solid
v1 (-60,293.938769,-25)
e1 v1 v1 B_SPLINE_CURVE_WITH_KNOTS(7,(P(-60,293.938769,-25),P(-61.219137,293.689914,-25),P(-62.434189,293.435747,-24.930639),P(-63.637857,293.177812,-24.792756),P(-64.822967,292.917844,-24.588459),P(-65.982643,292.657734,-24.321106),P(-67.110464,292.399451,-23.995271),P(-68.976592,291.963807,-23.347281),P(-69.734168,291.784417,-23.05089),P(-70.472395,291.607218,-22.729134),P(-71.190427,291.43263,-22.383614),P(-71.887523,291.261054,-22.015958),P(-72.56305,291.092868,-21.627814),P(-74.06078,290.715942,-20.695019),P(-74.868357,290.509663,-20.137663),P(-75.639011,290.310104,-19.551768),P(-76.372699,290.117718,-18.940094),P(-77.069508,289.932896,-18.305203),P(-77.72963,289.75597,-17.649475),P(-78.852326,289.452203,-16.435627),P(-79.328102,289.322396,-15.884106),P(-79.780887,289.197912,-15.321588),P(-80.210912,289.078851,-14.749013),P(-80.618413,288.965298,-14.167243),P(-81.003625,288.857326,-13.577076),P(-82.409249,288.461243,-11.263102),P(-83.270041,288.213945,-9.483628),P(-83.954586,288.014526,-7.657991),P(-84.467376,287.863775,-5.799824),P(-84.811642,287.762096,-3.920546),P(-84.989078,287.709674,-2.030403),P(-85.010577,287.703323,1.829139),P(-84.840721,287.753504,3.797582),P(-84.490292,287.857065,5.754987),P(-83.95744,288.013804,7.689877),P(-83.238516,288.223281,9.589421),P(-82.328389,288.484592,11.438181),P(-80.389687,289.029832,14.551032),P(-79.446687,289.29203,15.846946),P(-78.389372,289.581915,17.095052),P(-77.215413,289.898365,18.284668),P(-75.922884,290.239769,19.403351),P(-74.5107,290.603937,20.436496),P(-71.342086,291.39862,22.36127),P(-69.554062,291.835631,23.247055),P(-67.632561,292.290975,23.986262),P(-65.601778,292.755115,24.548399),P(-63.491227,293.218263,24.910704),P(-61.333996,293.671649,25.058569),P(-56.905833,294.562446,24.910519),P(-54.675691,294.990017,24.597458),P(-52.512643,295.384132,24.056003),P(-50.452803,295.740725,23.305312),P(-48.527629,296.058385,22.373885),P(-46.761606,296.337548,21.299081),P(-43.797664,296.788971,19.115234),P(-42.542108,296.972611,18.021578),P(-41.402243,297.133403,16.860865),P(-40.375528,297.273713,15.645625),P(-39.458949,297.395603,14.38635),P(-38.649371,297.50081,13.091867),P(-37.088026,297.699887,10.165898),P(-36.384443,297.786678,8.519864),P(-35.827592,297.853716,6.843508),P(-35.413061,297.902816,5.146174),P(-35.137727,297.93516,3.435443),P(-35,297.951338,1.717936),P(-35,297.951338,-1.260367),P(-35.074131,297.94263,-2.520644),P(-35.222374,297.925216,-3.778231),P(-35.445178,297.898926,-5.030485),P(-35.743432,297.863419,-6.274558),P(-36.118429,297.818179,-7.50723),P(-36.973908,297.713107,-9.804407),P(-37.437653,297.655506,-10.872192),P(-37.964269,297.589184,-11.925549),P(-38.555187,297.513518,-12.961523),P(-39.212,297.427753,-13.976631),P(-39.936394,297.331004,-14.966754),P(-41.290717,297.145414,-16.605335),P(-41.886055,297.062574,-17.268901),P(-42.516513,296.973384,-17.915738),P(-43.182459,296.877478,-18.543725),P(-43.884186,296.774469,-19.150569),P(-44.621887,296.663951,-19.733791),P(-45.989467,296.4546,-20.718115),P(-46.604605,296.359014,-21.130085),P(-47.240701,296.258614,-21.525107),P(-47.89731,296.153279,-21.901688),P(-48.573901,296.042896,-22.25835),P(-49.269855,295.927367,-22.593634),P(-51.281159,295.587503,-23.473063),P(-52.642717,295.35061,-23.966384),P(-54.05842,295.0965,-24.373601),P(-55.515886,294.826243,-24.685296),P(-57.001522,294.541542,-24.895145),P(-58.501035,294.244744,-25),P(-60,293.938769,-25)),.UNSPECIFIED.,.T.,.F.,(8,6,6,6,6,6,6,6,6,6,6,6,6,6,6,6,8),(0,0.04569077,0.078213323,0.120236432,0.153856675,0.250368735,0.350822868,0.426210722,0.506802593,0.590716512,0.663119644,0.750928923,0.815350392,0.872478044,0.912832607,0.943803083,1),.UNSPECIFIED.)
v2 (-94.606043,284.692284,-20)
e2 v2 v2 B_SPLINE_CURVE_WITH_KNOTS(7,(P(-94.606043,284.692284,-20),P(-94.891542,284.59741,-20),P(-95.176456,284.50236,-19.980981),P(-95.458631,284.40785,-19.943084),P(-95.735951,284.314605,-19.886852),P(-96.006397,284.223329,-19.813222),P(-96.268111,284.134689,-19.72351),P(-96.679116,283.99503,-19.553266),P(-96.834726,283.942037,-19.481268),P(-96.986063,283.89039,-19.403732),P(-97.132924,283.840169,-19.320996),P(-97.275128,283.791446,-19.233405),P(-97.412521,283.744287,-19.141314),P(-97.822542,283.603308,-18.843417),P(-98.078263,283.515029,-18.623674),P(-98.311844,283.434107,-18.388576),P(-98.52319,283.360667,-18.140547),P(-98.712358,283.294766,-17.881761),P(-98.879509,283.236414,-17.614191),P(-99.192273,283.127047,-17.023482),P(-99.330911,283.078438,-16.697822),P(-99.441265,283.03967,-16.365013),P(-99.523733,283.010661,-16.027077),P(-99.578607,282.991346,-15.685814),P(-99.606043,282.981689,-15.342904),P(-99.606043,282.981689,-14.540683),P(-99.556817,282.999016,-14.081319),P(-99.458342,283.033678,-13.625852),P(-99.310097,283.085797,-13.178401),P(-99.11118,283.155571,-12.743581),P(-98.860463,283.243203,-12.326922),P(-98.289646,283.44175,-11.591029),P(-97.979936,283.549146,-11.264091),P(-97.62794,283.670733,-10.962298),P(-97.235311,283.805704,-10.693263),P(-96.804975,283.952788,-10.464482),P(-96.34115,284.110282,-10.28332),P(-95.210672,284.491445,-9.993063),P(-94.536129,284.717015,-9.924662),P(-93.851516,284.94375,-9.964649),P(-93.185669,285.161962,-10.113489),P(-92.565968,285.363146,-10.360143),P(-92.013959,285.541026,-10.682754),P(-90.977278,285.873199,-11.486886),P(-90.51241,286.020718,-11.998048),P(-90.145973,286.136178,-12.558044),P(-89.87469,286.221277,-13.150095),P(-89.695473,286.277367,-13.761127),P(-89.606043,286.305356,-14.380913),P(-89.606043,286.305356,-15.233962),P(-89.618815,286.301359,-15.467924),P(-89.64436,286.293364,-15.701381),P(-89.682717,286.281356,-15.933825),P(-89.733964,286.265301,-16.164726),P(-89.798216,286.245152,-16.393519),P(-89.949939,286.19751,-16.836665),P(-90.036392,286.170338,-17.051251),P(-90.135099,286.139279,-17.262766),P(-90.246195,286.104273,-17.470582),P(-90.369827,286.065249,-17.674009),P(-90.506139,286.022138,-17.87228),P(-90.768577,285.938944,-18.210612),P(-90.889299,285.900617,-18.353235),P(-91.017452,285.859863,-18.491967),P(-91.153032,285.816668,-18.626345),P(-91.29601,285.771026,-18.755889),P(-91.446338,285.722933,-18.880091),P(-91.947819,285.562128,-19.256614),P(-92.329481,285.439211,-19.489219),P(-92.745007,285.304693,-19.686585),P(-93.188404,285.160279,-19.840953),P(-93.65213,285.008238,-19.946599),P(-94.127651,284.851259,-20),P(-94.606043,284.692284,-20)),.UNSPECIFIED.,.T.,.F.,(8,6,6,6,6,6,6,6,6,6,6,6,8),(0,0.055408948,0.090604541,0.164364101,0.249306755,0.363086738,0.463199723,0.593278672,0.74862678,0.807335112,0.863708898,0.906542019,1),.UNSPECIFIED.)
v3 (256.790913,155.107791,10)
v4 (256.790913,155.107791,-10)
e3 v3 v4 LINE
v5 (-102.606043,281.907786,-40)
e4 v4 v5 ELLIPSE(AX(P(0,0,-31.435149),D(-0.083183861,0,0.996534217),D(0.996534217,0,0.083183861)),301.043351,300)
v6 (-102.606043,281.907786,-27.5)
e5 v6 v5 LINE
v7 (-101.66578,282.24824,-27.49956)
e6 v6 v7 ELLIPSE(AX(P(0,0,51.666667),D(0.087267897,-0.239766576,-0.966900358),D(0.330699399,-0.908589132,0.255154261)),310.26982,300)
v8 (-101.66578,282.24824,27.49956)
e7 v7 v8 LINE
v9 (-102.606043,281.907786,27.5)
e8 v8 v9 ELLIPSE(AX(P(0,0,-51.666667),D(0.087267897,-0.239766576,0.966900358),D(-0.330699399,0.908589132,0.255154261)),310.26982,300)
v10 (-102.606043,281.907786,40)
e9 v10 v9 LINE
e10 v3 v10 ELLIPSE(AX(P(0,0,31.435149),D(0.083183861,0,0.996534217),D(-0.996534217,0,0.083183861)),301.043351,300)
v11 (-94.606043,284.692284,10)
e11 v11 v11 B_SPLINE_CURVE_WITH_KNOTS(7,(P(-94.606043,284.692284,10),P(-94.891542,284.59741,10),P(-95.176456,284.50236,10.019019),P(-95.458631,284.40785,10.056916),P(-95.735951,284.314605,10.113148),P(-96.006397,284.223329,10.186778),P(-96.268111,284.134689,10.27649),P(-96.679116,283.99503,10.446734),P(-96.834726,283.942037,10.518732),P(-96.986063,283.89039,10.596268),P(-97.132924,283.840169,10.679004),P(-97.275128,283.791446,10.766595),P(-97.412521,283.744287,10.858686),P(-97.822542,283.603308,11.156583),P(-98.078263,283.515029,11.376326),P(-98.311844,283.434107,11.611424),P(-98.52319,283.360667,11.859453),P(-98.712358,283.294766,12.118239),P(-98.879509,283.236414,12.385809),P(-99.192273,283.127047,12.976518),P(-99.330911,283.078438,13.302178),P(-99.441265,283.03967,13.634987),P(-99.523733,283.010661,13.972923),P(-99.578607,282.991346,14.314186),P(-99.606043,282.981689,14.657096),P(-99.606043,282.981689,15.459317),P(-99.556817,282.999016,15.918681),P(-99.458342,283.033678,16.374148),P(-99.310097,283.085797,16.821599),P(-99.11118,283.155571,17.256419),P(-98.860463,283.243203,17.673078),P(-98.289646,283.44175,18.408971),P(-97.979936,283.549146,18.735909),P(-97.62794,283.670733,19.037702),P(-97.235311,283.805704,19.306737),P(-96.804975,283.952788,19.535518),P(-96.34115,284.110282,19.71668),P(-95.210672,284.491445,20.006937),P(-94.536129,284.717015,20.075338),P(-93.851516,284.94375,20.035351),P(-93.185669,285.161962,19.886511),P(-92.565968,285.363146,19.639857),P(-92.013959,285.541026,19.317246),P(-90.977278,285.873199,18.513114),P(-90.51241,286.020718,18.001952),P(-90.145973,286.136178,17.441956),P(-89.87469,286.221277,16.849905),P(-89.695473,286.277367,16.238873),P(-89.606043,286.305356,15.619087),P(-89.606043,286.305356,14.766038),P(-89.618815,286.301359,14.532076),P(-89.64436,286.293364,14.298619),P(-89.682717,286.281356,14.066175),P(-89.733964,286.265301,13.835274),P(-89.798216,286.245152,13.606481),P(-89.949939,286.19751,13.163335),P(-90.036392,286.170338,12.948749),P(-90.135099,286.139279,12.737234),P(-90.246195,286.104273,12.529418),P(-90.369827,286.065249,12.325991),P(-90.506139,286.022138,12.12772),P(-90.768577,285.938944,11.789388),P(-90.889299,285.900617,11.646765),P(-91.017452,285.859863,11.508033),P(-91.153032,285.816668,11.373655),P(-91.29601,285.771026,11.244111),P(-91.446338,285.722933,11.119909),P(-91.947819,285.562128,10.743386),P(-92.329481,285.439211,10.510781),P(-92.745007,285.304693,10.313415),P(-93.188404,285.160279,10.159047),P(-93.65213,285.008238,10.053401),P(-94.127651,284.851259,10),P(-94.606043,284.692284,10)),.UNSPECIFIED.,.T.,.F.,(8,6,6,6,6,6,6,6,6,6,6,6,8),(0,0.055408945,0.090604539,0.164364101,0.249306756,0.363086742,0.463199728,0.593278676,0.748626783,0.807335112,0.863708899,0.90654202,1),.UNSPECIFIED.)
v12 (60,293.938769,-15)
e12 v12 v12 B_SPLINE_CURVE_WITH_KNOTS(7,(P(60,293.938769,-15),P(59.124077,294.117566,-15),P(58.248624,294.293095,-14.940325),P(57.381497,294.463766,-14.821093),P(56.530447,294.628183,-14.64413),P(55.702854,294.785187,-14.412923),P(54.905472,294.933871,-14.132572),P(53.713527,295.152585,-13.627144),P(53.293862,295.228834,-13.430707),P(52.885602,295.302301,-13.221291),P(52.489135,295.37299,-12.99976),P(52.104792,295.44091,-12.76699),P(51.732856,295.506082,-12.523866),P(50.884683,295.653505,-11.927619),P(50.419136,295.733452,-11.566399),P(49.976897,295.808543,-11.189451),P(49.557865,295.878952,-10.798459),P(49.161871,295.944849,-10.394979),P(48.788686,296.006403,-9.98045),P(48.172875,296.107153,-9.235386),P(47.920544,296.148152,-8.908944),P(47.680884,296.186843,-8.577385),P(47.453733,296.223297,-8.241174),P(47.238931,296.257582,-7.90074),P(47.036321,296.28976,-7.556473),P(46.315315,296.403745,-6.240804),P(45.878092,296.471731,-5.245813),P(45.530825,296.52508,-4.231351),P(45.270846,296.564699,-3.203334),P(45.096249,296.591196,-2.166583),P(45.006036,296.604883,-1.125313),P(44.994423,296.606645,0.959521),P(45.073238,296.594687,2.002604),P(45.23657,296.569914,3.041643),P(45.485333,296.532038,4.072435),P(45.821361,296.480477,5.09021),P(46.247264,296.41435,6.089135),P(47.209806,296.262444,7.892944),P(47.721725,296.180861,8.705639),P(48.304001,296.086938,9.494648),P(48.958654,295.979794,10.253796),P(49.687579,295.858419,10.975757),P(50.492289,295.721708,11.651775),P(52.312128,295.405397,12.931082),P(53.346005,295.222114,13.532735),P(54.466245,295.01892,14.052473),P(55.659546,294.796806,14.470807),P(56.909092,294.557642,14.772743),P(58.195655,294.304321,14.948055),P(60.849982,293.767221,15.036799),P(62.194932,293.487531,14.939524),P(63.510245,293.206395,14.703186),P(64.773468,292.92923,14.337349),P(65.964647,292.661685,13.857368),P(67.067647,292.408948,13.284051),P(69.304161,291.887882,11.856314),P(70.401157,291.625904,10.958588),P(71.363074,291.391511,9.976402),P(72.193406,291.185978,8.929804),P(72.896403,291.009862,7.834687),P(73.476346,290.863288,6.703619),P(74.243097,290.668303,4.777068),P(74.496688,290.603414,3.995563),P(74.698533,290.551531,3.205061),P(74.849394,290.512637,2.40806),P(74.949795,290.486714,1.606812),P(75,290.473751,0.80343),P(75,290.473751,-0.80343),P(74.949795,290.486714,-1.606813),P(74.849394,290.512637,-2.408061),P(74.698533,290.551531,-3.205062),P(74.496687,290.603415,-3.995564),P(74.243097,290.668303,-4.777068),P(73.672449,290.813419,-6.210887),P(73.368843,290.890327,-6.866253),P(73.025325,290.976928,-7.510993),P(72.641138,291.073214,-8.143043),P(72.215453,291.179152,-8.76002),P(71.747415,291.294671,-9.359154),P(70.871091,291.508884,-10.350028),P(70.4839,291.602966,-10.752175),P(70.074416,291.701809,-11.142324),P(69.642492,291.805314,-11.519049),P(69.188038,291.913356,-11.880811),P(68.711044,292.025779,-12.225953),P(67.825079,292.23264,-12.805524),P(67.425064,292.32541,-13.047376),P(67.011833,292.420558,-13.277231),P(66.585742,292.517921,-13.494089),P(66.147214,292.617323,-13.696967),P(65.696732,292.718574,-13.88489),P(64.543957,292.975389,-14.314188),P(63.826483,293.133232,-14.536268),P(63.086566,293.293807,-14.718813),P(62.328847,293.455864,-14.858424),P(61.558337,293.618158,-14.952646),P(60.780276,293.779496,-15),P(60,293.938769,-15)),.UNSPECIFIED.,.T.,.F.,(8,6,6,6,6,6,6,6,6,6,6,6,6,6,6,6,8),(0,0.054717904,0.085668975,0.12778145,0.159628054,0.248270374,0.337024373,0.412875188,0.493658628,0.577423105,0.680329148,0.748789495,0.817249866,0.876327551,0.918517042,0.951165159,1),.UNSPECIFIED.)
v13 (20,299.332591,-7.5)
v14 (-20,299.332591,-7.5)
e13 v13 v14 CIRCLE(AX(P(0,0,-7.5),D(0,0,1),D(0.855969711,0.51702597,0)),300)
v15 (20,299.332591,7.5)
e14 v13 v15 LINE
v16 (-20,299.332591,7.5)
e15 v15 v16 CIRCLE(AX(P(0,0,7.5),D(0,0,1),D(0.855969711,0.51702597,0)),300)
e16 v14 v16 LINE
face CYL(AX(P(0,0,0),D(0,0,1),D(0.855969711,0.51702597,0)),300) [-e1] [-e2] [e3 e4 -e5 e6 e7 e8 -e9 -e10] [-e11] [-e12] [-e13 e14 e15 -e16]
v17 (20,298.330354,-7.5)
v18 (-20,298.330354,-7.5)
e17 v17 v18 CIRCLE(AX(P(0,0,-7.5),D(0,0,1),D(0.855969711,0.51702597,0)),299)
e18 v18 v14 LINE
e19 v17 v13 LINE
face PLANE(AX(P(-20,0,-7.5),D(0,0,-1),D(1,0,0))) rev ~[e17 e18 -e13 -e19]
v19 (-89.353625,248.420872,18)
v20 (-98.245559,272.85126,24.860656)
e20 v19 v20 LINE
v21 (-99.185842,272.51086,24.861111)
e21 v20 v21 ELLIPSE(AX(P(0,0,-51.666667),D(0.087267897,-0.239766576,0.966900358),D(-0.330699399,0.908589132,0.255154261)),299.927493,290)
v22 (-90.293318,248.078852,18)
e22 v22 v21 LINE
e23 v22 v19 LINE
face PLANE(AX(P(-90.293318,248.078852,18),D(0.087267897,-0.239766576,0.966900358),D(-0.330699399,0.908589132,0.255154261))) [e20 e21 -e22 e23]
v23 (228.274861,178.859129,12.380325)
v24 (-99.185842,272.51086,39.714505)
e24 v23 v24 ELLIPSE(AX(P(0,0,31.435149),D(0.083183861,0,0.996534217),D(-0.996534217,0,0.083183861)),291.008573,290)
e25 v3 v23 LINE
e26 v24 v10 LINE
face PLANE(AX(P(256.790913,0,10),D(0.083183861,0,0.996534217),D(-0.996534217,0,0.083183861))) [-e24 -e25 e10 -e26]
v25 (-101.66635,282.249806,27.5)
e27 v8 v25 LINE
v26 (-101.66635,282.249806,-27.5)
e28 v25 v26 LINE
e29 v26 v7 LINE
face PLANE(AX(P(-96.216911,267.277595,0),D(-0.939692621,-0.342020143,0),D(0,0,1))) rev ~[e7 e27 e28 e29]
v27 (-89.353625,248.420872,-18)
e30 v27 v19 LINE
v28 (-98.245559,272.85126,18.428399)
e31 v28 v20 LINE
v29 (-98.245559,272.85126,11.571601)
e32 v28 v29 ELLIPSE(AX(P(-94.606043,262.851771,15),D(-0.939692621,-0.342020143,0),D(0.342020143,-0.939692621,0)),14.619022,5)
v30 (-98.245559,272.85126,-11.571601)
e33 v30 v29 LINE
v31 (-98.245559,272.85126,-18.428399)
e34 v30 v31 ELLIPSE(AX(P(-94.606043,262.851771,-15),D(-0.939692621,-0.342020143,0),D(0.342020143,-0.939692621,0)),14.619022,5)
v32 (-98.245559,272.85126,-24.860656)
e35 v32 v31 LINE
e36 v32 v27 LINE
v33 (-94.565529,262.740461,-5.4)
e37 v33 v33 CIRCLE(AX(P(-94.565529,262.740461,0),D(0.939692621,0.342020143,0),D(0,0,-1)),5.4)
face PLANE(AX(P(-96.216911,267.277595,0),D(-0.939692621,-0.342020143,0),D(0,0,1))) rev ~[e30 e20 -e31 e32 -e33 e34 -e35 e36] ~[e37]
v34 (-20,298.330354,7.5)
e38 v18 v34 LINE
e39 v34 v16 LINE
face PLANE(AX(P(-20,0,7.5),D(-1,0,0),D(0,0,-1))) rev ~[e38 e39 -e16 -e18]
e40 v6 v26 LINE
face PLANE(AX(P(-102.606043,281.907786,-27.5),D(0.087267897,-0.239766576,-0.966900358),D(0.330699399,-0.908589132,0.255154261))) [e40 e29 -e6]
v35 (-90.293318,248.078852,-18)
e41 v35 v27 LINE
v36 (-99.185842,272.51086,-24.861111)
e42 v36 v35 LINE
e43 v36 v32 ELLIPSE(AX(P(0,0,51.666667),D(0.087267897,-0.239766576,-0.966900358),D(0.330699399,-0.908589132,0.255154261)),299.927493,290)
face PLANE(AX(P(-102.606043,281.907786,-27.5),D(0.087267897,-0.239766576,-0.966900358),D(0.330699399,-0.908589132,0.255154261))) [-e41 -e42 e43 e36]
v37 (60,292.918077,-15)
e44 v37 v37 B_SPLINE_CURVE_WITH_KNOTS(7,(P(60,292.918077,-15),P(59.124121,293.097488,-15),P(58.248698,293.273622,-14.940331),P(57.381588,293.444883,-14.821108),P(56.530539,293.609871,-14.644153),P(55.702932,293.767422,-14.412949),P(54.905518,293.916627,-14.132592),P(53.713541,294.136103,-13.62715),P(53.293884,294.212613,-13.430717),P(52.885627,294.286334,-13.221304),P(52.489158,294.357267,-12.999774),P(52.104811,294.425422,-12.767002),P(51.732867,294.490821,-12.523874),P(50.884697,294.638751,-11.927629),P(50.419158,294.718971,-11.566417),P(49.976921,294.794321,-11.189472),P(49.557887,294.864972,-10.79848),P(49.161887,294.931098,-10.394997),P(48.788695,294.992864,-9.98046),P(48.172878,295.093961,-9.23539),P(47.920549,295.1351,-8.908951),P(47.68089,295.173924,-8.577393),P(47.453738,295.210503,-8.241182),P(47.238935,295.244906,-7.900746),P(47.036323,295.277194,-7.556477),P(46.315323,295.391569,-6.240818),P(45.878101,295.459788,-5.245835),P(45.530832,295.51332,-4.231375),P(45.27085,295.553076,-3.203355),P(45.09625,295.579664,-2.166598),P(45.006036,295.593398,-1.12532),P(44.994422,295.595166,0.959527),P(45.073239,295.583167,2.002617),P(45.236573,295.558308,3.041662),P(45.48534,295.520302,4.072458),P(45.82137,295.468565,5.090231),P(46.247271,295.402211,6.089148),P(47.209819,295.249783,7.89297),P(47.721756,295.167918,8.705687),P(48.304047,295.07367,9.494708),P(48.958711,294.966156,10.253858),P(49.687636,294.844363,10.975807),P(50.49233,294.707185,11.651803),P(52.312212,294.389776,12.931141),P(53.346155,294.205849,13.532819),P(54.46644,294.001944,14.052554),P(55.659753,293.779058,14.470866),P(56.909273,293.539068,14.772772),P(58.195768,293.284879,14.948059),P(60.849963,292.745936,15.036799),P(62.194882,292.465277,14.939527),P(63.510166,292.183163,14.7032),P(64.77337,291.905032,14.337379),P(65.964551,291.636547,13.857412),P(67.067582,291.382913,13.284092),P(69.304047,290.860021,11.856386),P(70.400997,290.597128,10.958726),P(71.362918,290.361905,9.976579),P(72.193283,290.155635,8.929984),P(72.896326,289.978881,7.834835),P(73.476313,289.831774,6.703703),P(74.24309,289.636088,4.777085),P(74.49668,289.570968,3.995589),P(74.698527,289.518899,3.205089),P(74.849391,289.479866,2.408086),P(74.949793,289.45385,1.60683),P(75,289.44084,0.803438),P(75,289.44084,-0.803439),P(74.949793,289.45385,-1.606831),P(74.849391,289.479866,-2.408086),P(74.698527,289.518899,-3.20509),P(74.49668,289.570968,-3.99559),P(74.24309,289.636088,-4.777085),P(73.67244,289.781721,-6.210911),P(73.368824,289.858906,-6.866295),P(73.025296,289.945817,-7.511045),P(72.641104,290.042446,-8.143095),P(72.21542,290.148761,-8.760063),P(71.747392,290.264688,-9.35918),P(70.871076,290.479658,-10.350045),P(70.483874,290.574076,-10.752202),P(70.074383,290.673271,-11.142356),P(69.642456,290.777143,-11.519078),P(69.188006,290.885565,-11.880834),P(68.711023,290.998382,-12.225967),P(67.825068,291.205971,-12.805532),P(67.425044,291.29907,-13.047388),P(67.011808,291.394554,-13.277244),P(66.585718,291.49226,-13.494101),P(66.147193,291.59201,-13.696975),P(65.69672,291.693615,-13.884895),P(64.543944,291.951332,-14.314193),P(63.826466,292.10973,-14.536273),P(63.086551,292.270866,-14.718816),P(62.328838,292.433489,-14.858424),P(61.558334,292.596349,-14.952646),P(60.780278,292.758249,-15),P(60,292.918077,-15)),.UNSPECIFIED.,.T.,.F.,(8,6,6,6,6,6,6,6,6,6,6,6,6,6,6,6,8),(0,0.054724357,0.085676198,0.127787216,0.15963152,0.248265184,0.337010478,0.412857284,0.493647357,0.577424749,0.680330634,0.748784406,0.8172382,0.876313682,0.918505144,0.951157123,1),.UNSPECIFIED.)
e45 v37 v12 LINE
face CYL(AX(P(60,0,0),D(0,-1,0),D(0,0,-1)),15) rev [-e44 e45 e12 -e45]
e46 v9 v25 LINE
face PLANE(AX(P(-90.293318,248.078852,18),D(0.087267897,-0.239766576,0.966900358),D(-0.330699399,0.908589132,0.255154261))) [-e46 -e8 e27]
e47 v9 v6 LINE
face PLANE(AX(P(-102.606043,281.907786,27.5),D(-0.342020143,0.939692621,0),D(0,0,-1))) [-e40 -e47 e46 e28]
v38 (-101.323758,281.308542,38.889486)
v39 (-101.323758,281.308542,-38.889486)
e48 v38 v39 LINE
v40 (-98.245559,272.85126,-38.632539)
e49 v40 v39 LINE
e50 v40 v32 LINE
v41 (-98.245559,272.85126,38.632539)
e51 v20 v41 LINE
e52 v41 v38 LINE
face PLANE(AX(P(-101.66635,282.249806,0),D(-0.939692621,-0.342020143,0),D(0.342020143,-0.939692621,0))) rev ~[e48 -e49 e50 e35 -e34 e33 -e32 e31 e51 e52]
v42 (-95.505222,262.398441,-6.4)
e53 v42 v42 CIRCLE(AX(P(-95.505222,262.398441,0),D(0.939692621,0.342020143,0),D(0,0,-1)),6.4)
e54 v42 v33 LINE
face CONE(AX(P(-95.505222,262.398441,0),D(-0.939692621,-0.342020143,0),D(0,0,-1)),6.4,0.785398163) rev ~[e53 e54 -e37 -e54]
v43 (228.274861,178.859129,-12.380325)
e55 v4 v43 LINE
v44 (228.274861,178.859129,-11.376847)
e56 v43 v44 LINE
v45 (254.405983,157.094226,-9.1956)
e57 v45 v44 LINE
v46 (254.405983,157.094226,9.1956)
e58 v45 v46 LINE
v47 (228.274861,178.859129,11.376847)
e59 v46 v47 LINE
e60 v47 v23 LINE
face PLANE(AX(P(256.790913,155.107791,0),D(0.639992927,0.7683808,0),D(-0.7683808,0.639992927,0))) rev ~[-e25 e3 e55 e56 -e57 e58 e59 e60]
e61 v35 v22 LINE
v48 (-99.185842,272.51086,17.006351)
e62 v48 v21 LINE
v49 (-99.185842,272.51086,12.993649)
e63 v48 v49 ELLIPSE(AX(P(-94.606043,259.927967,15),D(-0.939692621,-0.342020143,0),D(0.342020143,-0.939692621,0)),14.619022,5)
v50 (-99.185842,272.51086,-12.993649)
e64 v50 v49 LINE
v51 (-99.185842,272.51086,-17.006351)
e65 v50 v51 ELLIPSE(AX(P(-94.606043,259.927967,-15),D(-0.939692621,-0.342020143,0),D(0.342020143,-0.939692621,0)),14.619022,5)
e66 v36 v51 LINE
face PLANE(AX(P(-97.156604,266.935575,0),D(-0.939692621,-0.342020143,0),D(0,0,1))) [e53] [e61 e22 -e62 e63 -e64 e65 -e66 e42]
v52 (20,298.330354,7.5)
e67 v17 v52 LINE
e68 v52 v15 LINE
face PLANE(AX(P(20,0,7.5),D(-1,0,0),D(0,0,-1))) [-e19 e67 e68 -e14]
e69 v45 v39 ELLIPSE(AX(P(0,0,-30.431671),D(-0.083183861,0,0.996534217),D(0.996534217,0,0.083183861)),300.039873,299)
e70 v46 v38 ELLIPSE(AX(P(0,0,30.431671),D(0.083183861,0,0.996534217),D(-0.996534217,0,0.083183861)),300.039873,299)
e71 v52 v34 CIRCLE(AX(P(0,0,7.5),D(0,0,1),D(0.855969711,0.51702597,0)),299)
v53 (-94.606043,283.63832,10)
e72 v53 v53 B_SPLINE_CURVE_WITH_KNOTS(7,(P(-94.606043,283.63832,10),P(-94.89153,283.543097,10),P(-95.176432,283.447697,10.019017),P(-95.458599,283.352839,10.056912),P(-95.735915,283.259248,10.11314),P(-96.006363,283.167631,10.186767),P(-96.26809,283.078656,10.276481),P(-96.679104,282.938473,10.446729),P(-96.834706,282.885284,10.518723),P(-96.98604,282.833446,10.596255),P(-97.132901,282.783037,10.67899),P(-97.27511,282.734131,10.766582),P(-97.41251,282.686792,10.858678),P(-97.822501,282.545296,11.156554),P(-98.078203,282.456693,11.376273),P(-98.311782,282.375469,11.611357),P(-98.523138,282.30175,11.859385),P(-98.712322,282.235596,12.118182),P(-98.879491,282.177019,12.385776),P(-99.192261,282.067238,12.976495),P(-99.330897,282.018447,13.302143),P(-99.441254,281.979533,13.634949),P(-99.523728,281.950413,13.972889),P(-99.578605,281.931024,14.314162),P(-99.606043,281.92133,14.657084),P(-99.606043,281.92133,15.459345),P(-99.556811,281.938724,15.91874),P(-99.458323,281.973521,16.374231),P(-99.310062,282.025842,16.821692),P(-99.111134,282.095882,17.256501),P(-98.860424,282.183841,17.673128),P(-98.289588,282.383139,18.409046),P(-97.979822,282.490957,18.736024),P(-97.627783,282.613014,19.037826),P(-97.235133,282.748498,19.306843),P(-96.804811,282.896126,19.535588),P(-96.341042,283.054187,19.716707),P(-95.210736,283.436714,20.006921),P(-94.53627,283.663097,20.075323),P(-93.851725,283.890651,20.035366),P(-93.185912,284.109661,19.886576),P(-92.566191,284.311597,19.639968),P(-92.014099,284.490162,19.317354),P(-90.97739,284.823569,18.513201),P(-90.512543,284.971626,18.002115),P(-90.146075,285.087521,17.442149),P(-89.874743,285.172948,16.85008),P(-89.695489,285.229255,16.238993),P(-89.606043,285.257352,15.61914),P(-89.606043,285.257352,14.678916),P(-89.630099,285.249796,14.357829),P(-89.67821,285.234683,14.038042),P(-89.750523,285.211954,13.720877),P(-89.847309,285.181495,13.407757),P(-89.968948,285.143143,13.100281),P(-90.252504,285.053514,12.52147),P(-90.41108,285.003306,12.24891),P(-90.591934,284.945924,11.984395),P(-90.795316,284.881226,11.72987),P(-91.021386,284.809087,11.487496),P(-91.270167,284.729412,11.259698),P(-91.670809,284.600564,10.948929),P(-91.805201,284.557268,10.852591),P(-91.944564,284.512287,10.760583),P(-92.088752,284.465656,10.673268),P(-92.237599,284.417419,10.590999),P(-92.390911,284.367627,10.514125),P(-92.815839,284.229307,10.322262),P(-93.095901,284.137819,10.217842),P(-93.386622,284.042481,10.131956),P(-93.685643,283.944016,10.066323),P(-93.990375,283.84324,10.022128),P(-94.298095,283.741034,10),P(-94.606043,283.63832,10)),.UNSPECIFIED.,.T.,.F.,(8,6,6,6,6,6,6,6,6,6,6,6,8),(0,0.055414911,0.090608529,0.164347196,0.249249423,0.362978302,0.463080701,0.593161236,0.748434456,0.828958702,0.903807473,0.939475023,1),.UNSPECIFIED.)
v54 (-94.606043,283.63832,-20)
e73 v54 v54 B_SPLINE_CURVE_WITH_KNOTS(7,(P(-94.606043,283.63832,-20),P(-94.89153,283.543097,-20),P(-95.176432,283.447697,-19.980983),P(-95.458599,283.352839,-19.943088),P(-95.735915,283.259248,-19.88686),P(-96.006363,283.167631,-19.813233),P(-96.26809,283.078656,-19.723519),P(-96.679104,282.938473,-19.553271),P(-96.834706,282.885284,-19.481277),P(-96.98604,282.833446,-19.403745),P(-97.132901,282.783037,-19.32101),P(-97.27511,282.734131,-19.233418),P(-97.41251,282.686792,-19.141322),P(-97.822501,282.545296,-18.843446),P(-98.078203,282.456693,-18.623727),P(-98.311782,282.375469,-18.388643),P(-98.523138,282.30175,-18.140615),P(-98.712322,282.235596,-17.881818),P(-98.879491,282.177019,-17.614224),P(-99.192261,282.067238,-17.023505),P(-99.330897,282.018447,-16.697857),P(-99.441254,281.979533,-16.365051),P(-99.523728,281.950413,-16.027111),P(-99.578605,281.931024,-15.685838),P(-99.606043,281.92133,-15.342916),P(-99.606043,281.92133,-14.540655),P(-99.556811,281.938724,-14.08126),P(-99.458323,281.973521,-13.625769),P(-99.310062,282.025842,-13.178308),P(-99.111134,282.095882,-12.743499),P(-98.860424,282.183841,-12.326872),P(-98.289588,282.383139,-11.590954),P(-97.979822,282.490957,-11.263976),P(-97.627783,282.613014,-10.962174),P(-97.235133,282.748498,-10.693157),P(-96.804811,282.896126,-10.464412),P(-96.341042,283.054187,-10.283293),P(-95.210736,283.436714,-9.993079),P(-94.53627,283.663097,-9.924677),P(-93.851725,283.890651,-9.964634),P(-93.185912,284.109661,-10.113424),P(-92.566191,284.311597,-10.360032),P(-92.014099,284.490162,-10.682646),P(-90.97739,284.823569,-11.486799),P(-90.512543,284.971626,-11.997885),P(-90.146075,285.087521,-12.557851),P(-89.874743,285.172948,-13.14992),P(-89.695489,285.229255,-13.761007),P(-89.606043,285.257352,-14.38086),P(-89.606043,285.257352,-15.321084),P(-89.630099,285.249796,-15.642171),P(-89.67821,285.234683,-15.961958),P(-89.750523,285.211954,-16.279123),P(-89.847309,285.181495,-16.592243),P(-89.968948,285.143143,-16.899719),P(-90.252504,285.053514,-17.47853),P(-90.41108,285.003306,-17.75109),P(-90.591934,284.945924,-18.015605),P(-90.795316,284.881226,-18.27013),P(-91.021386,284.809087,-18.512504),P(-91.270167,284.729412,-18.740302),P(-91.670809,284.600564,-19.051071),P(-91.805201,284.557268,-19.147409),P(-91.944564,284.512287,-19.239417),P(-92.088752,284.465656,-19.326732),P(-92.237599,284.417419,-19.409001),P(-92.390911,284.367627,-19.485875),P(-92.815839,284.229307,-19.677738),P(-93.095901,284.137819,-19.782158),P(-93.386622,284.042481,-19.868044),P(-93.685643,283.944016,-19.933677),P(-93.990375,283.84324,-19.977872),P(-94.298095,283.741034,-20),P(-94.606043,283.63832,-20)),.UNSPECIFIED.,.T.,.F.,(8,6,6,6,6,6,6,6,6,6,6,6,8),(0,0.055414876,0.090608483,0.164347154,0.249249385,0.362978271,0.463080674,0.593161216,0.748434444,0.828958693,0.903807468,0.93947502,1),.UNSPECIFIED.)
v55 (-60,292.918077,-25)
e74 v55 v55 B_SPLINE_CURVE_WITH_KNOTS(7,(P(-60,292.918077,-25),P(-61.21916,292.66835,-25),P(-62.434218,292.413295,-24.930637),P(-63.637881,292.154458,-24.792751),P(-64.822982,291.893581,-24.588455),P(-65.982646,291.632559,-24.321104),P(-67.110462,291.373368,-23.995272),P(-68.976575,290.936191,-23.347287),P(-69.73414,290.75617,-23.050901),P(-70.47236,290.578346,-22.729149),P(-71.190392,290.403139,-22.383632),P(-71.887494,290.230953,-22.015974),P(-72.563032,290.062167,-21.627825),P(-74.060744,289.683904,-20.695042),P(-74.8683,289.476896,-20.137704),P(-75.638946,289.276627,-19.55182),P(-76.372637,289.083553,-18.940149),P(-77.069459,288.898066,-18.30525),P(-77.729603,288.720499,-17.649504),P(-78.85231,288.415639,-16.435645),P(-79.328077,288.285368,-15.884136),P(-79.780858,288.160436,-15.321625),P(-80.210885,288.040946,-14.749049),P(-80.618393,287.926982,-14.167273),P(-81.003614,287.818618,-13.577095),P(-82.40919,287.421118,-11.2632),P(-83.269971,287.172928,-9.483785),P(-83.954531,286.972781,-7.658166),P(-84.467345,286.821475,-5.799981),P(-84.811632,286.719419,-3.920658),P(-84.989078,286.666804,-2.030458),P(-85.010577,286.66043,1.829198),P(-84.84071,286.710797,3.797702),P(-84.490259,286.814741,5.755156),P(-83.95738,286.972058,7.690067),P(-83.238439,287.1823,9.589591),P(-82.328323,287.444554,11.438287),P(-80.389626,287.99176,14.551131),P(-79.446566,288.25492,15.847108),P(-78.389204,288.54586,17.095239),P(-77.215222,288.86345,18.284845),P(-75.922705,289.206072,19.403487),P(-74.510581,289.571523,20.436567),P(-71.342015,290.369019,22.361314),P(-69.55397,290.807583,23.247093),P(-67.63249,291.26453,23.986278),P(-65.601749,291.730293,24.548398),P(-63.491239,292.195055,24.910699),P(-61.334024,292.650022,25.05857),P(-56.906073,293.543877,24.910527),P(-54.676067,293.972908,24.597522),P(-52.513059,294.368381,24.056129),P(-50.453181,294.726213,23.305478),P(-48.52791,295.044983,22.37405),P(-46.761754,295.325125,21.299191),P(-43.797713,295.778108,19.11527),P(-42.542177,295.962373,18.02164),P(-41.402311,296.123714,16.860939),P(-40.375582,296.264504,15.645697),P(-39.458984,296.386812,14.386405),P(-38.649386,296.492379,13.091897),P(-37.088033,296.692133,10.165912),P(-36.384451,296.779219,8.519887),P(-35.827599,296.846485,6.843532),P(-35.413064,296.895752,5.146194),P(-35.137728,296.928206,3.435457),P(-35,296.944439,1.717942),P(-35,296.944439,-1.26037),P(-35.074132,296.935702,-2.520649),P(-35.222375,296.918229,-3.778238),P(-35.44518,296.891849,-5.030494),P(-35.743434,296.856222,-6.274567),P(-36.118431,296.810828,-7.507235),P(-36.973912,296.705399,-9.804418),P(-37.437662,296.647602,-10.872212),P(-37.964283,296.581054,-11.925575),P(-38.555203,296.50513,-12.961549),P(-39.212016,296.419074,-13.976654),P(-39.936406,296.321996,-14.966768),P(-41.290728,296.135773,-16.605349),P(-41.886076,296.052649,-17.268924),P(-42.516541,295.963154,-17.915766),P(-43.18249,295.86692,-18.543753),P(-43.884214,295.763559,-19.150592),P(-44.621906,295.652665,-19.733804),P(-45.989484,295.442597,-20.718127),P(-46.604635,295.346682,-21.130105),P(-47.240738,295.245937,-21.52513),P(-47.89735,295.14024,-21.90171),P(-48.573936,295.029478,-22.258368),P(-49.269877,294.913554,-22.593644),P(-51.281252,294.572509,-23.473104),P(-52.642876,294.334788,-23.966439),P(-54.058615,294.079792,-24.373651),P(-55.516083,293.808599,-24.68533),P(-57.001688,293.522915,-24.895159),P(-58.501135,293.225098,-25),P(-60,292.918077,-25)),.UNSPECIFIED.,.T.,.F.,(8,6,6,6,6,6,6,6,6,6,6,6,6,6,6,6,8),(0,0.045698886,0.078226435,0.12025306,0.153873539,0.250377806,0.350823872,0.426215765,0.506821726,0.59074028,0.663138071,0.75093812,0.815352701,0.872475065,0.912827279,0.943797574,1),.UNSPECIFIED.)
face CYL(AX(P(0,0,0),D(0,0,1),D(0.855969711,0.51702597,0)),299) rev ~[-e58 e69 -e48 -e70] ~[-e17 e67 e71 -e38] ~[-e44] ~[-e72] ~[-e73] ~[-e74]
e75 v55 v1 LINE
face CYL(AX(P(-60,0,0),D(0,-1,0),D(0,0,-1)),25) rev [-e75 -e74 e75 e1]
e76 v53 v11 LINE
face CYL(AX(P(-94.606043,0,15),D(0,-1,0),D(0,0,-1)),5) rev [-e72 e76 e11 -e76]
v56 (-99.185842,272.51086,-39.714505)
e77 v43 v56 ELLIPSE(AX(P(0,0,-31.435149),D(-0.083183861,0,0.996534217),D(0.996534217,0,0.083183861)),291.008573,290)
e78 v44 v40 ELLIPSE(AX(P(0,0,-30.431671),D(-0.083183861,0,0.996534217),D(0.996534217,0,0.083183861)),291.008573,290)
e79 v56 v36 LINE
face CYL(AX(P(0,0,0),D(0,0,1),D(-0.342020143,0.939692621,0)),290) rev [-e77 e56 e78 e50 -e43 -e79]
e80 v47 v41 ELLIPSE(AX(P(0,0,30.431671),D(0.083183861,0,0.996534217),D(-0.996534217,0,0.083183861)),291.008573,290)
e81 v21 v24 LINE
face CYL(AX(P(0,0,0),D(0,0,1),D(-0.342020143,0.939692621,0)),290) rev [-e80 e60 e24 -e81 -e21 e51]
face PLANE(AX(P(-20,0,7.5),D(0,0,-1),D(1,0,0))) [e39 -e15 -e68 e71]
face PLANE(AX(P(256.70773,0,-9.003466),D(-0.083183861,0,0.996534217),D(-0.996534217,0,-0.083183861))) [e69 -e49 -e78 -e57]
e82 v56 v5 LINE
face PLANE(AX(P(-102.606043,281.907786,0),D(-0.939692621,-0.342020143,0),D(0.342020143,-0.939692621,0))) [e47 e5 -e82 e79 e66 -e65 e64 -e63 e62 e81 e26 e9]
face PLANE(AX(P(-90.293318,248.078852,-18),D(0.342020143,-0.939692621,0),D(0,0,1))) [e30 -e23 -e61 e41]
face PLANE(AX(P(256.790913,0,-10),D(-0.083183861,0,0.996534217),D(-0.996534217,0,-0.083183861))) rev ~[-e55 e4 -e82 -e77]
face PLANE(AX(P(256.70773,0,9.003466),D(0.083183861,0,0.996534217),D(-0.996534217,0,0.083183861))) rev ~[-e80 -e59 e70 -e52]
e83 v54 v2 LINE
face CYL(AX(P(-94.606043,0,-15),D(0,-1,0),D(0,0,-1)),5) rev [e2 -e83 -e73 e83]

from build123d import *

# Parameters (mm, degrees)
EXTRUDE_1_DEPTH     = 40
CUT_EXTRUDE_1_DEPTH = 397.915070509
SHELL_2_T           = -1
SKETCH_3_W          = 40
SKETCH_3_H          = 15
CUT_EXTRUDE_2_DEPTH = 397.915070509
SKETCH_4_R          = 25
SKETCH_4_R_2        = 15
SKETCH_4_R_3        = 5
CUT_EXTRUDE_3_DEPTH = 397.915070509
CUT_EXTRUDE_4_DEPTH = 40
EXTRUDE_2_DEPTH     = 1
SKETCH_7_R          = 5
CUT_EXTRUDE_5_DEPTH = 1
MM_1_D              = 1
MM_1_DEPTH          = 12.4
MM_1_CSINK_D        = 12.8
MM_1_CSINK_ANGLE    = 90
MM_1_TIP            = 0.30043031


with BuildPart() as part:
    # 草图1 → 凸台-拉伸1 (new, symmetric)
    with BuildSketch(Plane.XY):
        with BuildLine():
            Line((-102.606042998, 281.907786236), (-99.185841564, 272.510860028))
            ThreePointArc((-99.185841564, 272.510860028), (96.486714963, 273.478177988), (248.231216272, 149.937531219))
            Line((248.231216272, 149.937531219), (256.790913385, 155.107790916))
            ThreePointArc((256.790913385, 155.107790916), (99.813843065, 282.908459988), (-102.606042998, 281.907786236))
        make_face()
    extrude(amount=EXTRUDE_1_DEPTH, both=True)

    # 草图2 → 切除-拉伸1 (cut, through all)
    with BuildSketch(Plane(origin=(0, 0, 0), x_dir=(1, 0, 0), z_dir=(0, 1, 0))):
        Polygon((-102.606042998, 40), (256.790913385, 40), (256.790913385, 10), align=None)
        Polygon((256.790913385, -40), (256.790913385, -10), (-102.606042998, -40), align=None)
    extrude(amount=CUT_EXTRUDE_1_DEPTH, mode=Mode.SUBTRACT)

    # 抽壳2
    shell_2_openings = [part.faces().sort_by_distance(p)[0] for p in [
        (96.486714963, 273.478177988, 0),
    ]]
    offset(amount=SHELL_2_T, openings=shell_2_openings, kind=Kind.INTERSECTION)

    # 草图3 → 切除-拉伸2 (cut, through all)
    with BuildSketch(Plane(origin=(0, 0, 0), x_dir=(1, 0, 0), z_dir=(0, 1, 0))):
        Rectangle(SKETCH_3_W, SKETCH_3_H)
    extrude(amount=CUT_EXTRUDE_2_DEPTH, mode=Mode.SUBTRACT)

    # 草图4 → 切除-拉伸3 (cut, through all)
    with BuildSketch(Plane(origin=(0, 0, 0), x_dir=(1, 0, 0), z_dir=(0, 1, 0))):
        with Locations(Location((-60, 0, 0), (0, 0, 90))):
            Circle(SKETCH_4_R)
        with Locations(Location((60, 0, 0), (0, 0, 90))):
            Circle(SKETCH_4_R_2)
        with Locations(Location((-94.606042998, 15, 0), (0, 0, 90))):
            Circle(SKETCH_4_R_3)
        with Locations(Location((-94.606042998, -15, 0), (0, 0, 90))):
            Circle(SKETCH_4_R_3)
    extrude(amount=CUT_EXTRUDE_3_DEPTH, mode=Mode.SUBTRACT)

    # 草图5 → 切除-拉伸4 (cut, symmetric)
    with BuildSketch(Plane.XY):
        Polygon((256.790913385, 155.107790916), (228.27486074, 178.859128797), (202.085250624, 147.415666345), (242.532887063, 124.067442195), align=None)
    extrude(amount=CUT_EXTRUDE_4_DEPTH, both=True, mode=Mode.SUBTRACT)

    # 草图6 → 凸台-拉伸2 (add)
    with BuildSketch(Plane(origin=(0, 0, 0), x_dir=(0, 0, 1), z_dir=(-0.9396926207859102, -0.34202014332566405, 0))):
        Polygon((-27.5, 300), (-18, 264), (18, 264), (27.5, 300), align=None)
    extrude(amount=-EXTRUDE_2_DEPTH)

    # 草图7 → 切除-拉伸5 (cut)
    with BuildSketch(Plane(origin=(0, 0, 0), x_dir=(0, 0, 1), z_dir=(-0.9396926207859102, -0.34202014332566405, 0))):
        with Locations(Location((0, 279.238588323, 0), (0, 0, 270))):
            Circle(SKETCH_7_R)
    extrude(amount=-CUT_EXTRUDE_5_DEPTH, mode=Mode.SUBTRACT)

    # 大小mm 暗销孔1
    with Locations(Plane(origin=(0, 0, 0), x_dir=(0, 0, 1), z_dir=(-0.9396926207859102, -0.34202014332566405, 0))):
        with Locations((0, 279.238588323)):
            CounterSinkHole(MM_1_D / 2, MM_1_CSINK_D / 2, depth=MM_1_DEPTH, counter_sink_angle=MM_1_CSINK_ANGLE)
            with Locations((0, 0, -(MM_1_DEPTH + MM_1_TIP / 2))):  # 118° drill point
                Cone(0, MM_1_D / 2, MM_1_TIP, mode=Mode.SUBTRACT)


solid = part.part
